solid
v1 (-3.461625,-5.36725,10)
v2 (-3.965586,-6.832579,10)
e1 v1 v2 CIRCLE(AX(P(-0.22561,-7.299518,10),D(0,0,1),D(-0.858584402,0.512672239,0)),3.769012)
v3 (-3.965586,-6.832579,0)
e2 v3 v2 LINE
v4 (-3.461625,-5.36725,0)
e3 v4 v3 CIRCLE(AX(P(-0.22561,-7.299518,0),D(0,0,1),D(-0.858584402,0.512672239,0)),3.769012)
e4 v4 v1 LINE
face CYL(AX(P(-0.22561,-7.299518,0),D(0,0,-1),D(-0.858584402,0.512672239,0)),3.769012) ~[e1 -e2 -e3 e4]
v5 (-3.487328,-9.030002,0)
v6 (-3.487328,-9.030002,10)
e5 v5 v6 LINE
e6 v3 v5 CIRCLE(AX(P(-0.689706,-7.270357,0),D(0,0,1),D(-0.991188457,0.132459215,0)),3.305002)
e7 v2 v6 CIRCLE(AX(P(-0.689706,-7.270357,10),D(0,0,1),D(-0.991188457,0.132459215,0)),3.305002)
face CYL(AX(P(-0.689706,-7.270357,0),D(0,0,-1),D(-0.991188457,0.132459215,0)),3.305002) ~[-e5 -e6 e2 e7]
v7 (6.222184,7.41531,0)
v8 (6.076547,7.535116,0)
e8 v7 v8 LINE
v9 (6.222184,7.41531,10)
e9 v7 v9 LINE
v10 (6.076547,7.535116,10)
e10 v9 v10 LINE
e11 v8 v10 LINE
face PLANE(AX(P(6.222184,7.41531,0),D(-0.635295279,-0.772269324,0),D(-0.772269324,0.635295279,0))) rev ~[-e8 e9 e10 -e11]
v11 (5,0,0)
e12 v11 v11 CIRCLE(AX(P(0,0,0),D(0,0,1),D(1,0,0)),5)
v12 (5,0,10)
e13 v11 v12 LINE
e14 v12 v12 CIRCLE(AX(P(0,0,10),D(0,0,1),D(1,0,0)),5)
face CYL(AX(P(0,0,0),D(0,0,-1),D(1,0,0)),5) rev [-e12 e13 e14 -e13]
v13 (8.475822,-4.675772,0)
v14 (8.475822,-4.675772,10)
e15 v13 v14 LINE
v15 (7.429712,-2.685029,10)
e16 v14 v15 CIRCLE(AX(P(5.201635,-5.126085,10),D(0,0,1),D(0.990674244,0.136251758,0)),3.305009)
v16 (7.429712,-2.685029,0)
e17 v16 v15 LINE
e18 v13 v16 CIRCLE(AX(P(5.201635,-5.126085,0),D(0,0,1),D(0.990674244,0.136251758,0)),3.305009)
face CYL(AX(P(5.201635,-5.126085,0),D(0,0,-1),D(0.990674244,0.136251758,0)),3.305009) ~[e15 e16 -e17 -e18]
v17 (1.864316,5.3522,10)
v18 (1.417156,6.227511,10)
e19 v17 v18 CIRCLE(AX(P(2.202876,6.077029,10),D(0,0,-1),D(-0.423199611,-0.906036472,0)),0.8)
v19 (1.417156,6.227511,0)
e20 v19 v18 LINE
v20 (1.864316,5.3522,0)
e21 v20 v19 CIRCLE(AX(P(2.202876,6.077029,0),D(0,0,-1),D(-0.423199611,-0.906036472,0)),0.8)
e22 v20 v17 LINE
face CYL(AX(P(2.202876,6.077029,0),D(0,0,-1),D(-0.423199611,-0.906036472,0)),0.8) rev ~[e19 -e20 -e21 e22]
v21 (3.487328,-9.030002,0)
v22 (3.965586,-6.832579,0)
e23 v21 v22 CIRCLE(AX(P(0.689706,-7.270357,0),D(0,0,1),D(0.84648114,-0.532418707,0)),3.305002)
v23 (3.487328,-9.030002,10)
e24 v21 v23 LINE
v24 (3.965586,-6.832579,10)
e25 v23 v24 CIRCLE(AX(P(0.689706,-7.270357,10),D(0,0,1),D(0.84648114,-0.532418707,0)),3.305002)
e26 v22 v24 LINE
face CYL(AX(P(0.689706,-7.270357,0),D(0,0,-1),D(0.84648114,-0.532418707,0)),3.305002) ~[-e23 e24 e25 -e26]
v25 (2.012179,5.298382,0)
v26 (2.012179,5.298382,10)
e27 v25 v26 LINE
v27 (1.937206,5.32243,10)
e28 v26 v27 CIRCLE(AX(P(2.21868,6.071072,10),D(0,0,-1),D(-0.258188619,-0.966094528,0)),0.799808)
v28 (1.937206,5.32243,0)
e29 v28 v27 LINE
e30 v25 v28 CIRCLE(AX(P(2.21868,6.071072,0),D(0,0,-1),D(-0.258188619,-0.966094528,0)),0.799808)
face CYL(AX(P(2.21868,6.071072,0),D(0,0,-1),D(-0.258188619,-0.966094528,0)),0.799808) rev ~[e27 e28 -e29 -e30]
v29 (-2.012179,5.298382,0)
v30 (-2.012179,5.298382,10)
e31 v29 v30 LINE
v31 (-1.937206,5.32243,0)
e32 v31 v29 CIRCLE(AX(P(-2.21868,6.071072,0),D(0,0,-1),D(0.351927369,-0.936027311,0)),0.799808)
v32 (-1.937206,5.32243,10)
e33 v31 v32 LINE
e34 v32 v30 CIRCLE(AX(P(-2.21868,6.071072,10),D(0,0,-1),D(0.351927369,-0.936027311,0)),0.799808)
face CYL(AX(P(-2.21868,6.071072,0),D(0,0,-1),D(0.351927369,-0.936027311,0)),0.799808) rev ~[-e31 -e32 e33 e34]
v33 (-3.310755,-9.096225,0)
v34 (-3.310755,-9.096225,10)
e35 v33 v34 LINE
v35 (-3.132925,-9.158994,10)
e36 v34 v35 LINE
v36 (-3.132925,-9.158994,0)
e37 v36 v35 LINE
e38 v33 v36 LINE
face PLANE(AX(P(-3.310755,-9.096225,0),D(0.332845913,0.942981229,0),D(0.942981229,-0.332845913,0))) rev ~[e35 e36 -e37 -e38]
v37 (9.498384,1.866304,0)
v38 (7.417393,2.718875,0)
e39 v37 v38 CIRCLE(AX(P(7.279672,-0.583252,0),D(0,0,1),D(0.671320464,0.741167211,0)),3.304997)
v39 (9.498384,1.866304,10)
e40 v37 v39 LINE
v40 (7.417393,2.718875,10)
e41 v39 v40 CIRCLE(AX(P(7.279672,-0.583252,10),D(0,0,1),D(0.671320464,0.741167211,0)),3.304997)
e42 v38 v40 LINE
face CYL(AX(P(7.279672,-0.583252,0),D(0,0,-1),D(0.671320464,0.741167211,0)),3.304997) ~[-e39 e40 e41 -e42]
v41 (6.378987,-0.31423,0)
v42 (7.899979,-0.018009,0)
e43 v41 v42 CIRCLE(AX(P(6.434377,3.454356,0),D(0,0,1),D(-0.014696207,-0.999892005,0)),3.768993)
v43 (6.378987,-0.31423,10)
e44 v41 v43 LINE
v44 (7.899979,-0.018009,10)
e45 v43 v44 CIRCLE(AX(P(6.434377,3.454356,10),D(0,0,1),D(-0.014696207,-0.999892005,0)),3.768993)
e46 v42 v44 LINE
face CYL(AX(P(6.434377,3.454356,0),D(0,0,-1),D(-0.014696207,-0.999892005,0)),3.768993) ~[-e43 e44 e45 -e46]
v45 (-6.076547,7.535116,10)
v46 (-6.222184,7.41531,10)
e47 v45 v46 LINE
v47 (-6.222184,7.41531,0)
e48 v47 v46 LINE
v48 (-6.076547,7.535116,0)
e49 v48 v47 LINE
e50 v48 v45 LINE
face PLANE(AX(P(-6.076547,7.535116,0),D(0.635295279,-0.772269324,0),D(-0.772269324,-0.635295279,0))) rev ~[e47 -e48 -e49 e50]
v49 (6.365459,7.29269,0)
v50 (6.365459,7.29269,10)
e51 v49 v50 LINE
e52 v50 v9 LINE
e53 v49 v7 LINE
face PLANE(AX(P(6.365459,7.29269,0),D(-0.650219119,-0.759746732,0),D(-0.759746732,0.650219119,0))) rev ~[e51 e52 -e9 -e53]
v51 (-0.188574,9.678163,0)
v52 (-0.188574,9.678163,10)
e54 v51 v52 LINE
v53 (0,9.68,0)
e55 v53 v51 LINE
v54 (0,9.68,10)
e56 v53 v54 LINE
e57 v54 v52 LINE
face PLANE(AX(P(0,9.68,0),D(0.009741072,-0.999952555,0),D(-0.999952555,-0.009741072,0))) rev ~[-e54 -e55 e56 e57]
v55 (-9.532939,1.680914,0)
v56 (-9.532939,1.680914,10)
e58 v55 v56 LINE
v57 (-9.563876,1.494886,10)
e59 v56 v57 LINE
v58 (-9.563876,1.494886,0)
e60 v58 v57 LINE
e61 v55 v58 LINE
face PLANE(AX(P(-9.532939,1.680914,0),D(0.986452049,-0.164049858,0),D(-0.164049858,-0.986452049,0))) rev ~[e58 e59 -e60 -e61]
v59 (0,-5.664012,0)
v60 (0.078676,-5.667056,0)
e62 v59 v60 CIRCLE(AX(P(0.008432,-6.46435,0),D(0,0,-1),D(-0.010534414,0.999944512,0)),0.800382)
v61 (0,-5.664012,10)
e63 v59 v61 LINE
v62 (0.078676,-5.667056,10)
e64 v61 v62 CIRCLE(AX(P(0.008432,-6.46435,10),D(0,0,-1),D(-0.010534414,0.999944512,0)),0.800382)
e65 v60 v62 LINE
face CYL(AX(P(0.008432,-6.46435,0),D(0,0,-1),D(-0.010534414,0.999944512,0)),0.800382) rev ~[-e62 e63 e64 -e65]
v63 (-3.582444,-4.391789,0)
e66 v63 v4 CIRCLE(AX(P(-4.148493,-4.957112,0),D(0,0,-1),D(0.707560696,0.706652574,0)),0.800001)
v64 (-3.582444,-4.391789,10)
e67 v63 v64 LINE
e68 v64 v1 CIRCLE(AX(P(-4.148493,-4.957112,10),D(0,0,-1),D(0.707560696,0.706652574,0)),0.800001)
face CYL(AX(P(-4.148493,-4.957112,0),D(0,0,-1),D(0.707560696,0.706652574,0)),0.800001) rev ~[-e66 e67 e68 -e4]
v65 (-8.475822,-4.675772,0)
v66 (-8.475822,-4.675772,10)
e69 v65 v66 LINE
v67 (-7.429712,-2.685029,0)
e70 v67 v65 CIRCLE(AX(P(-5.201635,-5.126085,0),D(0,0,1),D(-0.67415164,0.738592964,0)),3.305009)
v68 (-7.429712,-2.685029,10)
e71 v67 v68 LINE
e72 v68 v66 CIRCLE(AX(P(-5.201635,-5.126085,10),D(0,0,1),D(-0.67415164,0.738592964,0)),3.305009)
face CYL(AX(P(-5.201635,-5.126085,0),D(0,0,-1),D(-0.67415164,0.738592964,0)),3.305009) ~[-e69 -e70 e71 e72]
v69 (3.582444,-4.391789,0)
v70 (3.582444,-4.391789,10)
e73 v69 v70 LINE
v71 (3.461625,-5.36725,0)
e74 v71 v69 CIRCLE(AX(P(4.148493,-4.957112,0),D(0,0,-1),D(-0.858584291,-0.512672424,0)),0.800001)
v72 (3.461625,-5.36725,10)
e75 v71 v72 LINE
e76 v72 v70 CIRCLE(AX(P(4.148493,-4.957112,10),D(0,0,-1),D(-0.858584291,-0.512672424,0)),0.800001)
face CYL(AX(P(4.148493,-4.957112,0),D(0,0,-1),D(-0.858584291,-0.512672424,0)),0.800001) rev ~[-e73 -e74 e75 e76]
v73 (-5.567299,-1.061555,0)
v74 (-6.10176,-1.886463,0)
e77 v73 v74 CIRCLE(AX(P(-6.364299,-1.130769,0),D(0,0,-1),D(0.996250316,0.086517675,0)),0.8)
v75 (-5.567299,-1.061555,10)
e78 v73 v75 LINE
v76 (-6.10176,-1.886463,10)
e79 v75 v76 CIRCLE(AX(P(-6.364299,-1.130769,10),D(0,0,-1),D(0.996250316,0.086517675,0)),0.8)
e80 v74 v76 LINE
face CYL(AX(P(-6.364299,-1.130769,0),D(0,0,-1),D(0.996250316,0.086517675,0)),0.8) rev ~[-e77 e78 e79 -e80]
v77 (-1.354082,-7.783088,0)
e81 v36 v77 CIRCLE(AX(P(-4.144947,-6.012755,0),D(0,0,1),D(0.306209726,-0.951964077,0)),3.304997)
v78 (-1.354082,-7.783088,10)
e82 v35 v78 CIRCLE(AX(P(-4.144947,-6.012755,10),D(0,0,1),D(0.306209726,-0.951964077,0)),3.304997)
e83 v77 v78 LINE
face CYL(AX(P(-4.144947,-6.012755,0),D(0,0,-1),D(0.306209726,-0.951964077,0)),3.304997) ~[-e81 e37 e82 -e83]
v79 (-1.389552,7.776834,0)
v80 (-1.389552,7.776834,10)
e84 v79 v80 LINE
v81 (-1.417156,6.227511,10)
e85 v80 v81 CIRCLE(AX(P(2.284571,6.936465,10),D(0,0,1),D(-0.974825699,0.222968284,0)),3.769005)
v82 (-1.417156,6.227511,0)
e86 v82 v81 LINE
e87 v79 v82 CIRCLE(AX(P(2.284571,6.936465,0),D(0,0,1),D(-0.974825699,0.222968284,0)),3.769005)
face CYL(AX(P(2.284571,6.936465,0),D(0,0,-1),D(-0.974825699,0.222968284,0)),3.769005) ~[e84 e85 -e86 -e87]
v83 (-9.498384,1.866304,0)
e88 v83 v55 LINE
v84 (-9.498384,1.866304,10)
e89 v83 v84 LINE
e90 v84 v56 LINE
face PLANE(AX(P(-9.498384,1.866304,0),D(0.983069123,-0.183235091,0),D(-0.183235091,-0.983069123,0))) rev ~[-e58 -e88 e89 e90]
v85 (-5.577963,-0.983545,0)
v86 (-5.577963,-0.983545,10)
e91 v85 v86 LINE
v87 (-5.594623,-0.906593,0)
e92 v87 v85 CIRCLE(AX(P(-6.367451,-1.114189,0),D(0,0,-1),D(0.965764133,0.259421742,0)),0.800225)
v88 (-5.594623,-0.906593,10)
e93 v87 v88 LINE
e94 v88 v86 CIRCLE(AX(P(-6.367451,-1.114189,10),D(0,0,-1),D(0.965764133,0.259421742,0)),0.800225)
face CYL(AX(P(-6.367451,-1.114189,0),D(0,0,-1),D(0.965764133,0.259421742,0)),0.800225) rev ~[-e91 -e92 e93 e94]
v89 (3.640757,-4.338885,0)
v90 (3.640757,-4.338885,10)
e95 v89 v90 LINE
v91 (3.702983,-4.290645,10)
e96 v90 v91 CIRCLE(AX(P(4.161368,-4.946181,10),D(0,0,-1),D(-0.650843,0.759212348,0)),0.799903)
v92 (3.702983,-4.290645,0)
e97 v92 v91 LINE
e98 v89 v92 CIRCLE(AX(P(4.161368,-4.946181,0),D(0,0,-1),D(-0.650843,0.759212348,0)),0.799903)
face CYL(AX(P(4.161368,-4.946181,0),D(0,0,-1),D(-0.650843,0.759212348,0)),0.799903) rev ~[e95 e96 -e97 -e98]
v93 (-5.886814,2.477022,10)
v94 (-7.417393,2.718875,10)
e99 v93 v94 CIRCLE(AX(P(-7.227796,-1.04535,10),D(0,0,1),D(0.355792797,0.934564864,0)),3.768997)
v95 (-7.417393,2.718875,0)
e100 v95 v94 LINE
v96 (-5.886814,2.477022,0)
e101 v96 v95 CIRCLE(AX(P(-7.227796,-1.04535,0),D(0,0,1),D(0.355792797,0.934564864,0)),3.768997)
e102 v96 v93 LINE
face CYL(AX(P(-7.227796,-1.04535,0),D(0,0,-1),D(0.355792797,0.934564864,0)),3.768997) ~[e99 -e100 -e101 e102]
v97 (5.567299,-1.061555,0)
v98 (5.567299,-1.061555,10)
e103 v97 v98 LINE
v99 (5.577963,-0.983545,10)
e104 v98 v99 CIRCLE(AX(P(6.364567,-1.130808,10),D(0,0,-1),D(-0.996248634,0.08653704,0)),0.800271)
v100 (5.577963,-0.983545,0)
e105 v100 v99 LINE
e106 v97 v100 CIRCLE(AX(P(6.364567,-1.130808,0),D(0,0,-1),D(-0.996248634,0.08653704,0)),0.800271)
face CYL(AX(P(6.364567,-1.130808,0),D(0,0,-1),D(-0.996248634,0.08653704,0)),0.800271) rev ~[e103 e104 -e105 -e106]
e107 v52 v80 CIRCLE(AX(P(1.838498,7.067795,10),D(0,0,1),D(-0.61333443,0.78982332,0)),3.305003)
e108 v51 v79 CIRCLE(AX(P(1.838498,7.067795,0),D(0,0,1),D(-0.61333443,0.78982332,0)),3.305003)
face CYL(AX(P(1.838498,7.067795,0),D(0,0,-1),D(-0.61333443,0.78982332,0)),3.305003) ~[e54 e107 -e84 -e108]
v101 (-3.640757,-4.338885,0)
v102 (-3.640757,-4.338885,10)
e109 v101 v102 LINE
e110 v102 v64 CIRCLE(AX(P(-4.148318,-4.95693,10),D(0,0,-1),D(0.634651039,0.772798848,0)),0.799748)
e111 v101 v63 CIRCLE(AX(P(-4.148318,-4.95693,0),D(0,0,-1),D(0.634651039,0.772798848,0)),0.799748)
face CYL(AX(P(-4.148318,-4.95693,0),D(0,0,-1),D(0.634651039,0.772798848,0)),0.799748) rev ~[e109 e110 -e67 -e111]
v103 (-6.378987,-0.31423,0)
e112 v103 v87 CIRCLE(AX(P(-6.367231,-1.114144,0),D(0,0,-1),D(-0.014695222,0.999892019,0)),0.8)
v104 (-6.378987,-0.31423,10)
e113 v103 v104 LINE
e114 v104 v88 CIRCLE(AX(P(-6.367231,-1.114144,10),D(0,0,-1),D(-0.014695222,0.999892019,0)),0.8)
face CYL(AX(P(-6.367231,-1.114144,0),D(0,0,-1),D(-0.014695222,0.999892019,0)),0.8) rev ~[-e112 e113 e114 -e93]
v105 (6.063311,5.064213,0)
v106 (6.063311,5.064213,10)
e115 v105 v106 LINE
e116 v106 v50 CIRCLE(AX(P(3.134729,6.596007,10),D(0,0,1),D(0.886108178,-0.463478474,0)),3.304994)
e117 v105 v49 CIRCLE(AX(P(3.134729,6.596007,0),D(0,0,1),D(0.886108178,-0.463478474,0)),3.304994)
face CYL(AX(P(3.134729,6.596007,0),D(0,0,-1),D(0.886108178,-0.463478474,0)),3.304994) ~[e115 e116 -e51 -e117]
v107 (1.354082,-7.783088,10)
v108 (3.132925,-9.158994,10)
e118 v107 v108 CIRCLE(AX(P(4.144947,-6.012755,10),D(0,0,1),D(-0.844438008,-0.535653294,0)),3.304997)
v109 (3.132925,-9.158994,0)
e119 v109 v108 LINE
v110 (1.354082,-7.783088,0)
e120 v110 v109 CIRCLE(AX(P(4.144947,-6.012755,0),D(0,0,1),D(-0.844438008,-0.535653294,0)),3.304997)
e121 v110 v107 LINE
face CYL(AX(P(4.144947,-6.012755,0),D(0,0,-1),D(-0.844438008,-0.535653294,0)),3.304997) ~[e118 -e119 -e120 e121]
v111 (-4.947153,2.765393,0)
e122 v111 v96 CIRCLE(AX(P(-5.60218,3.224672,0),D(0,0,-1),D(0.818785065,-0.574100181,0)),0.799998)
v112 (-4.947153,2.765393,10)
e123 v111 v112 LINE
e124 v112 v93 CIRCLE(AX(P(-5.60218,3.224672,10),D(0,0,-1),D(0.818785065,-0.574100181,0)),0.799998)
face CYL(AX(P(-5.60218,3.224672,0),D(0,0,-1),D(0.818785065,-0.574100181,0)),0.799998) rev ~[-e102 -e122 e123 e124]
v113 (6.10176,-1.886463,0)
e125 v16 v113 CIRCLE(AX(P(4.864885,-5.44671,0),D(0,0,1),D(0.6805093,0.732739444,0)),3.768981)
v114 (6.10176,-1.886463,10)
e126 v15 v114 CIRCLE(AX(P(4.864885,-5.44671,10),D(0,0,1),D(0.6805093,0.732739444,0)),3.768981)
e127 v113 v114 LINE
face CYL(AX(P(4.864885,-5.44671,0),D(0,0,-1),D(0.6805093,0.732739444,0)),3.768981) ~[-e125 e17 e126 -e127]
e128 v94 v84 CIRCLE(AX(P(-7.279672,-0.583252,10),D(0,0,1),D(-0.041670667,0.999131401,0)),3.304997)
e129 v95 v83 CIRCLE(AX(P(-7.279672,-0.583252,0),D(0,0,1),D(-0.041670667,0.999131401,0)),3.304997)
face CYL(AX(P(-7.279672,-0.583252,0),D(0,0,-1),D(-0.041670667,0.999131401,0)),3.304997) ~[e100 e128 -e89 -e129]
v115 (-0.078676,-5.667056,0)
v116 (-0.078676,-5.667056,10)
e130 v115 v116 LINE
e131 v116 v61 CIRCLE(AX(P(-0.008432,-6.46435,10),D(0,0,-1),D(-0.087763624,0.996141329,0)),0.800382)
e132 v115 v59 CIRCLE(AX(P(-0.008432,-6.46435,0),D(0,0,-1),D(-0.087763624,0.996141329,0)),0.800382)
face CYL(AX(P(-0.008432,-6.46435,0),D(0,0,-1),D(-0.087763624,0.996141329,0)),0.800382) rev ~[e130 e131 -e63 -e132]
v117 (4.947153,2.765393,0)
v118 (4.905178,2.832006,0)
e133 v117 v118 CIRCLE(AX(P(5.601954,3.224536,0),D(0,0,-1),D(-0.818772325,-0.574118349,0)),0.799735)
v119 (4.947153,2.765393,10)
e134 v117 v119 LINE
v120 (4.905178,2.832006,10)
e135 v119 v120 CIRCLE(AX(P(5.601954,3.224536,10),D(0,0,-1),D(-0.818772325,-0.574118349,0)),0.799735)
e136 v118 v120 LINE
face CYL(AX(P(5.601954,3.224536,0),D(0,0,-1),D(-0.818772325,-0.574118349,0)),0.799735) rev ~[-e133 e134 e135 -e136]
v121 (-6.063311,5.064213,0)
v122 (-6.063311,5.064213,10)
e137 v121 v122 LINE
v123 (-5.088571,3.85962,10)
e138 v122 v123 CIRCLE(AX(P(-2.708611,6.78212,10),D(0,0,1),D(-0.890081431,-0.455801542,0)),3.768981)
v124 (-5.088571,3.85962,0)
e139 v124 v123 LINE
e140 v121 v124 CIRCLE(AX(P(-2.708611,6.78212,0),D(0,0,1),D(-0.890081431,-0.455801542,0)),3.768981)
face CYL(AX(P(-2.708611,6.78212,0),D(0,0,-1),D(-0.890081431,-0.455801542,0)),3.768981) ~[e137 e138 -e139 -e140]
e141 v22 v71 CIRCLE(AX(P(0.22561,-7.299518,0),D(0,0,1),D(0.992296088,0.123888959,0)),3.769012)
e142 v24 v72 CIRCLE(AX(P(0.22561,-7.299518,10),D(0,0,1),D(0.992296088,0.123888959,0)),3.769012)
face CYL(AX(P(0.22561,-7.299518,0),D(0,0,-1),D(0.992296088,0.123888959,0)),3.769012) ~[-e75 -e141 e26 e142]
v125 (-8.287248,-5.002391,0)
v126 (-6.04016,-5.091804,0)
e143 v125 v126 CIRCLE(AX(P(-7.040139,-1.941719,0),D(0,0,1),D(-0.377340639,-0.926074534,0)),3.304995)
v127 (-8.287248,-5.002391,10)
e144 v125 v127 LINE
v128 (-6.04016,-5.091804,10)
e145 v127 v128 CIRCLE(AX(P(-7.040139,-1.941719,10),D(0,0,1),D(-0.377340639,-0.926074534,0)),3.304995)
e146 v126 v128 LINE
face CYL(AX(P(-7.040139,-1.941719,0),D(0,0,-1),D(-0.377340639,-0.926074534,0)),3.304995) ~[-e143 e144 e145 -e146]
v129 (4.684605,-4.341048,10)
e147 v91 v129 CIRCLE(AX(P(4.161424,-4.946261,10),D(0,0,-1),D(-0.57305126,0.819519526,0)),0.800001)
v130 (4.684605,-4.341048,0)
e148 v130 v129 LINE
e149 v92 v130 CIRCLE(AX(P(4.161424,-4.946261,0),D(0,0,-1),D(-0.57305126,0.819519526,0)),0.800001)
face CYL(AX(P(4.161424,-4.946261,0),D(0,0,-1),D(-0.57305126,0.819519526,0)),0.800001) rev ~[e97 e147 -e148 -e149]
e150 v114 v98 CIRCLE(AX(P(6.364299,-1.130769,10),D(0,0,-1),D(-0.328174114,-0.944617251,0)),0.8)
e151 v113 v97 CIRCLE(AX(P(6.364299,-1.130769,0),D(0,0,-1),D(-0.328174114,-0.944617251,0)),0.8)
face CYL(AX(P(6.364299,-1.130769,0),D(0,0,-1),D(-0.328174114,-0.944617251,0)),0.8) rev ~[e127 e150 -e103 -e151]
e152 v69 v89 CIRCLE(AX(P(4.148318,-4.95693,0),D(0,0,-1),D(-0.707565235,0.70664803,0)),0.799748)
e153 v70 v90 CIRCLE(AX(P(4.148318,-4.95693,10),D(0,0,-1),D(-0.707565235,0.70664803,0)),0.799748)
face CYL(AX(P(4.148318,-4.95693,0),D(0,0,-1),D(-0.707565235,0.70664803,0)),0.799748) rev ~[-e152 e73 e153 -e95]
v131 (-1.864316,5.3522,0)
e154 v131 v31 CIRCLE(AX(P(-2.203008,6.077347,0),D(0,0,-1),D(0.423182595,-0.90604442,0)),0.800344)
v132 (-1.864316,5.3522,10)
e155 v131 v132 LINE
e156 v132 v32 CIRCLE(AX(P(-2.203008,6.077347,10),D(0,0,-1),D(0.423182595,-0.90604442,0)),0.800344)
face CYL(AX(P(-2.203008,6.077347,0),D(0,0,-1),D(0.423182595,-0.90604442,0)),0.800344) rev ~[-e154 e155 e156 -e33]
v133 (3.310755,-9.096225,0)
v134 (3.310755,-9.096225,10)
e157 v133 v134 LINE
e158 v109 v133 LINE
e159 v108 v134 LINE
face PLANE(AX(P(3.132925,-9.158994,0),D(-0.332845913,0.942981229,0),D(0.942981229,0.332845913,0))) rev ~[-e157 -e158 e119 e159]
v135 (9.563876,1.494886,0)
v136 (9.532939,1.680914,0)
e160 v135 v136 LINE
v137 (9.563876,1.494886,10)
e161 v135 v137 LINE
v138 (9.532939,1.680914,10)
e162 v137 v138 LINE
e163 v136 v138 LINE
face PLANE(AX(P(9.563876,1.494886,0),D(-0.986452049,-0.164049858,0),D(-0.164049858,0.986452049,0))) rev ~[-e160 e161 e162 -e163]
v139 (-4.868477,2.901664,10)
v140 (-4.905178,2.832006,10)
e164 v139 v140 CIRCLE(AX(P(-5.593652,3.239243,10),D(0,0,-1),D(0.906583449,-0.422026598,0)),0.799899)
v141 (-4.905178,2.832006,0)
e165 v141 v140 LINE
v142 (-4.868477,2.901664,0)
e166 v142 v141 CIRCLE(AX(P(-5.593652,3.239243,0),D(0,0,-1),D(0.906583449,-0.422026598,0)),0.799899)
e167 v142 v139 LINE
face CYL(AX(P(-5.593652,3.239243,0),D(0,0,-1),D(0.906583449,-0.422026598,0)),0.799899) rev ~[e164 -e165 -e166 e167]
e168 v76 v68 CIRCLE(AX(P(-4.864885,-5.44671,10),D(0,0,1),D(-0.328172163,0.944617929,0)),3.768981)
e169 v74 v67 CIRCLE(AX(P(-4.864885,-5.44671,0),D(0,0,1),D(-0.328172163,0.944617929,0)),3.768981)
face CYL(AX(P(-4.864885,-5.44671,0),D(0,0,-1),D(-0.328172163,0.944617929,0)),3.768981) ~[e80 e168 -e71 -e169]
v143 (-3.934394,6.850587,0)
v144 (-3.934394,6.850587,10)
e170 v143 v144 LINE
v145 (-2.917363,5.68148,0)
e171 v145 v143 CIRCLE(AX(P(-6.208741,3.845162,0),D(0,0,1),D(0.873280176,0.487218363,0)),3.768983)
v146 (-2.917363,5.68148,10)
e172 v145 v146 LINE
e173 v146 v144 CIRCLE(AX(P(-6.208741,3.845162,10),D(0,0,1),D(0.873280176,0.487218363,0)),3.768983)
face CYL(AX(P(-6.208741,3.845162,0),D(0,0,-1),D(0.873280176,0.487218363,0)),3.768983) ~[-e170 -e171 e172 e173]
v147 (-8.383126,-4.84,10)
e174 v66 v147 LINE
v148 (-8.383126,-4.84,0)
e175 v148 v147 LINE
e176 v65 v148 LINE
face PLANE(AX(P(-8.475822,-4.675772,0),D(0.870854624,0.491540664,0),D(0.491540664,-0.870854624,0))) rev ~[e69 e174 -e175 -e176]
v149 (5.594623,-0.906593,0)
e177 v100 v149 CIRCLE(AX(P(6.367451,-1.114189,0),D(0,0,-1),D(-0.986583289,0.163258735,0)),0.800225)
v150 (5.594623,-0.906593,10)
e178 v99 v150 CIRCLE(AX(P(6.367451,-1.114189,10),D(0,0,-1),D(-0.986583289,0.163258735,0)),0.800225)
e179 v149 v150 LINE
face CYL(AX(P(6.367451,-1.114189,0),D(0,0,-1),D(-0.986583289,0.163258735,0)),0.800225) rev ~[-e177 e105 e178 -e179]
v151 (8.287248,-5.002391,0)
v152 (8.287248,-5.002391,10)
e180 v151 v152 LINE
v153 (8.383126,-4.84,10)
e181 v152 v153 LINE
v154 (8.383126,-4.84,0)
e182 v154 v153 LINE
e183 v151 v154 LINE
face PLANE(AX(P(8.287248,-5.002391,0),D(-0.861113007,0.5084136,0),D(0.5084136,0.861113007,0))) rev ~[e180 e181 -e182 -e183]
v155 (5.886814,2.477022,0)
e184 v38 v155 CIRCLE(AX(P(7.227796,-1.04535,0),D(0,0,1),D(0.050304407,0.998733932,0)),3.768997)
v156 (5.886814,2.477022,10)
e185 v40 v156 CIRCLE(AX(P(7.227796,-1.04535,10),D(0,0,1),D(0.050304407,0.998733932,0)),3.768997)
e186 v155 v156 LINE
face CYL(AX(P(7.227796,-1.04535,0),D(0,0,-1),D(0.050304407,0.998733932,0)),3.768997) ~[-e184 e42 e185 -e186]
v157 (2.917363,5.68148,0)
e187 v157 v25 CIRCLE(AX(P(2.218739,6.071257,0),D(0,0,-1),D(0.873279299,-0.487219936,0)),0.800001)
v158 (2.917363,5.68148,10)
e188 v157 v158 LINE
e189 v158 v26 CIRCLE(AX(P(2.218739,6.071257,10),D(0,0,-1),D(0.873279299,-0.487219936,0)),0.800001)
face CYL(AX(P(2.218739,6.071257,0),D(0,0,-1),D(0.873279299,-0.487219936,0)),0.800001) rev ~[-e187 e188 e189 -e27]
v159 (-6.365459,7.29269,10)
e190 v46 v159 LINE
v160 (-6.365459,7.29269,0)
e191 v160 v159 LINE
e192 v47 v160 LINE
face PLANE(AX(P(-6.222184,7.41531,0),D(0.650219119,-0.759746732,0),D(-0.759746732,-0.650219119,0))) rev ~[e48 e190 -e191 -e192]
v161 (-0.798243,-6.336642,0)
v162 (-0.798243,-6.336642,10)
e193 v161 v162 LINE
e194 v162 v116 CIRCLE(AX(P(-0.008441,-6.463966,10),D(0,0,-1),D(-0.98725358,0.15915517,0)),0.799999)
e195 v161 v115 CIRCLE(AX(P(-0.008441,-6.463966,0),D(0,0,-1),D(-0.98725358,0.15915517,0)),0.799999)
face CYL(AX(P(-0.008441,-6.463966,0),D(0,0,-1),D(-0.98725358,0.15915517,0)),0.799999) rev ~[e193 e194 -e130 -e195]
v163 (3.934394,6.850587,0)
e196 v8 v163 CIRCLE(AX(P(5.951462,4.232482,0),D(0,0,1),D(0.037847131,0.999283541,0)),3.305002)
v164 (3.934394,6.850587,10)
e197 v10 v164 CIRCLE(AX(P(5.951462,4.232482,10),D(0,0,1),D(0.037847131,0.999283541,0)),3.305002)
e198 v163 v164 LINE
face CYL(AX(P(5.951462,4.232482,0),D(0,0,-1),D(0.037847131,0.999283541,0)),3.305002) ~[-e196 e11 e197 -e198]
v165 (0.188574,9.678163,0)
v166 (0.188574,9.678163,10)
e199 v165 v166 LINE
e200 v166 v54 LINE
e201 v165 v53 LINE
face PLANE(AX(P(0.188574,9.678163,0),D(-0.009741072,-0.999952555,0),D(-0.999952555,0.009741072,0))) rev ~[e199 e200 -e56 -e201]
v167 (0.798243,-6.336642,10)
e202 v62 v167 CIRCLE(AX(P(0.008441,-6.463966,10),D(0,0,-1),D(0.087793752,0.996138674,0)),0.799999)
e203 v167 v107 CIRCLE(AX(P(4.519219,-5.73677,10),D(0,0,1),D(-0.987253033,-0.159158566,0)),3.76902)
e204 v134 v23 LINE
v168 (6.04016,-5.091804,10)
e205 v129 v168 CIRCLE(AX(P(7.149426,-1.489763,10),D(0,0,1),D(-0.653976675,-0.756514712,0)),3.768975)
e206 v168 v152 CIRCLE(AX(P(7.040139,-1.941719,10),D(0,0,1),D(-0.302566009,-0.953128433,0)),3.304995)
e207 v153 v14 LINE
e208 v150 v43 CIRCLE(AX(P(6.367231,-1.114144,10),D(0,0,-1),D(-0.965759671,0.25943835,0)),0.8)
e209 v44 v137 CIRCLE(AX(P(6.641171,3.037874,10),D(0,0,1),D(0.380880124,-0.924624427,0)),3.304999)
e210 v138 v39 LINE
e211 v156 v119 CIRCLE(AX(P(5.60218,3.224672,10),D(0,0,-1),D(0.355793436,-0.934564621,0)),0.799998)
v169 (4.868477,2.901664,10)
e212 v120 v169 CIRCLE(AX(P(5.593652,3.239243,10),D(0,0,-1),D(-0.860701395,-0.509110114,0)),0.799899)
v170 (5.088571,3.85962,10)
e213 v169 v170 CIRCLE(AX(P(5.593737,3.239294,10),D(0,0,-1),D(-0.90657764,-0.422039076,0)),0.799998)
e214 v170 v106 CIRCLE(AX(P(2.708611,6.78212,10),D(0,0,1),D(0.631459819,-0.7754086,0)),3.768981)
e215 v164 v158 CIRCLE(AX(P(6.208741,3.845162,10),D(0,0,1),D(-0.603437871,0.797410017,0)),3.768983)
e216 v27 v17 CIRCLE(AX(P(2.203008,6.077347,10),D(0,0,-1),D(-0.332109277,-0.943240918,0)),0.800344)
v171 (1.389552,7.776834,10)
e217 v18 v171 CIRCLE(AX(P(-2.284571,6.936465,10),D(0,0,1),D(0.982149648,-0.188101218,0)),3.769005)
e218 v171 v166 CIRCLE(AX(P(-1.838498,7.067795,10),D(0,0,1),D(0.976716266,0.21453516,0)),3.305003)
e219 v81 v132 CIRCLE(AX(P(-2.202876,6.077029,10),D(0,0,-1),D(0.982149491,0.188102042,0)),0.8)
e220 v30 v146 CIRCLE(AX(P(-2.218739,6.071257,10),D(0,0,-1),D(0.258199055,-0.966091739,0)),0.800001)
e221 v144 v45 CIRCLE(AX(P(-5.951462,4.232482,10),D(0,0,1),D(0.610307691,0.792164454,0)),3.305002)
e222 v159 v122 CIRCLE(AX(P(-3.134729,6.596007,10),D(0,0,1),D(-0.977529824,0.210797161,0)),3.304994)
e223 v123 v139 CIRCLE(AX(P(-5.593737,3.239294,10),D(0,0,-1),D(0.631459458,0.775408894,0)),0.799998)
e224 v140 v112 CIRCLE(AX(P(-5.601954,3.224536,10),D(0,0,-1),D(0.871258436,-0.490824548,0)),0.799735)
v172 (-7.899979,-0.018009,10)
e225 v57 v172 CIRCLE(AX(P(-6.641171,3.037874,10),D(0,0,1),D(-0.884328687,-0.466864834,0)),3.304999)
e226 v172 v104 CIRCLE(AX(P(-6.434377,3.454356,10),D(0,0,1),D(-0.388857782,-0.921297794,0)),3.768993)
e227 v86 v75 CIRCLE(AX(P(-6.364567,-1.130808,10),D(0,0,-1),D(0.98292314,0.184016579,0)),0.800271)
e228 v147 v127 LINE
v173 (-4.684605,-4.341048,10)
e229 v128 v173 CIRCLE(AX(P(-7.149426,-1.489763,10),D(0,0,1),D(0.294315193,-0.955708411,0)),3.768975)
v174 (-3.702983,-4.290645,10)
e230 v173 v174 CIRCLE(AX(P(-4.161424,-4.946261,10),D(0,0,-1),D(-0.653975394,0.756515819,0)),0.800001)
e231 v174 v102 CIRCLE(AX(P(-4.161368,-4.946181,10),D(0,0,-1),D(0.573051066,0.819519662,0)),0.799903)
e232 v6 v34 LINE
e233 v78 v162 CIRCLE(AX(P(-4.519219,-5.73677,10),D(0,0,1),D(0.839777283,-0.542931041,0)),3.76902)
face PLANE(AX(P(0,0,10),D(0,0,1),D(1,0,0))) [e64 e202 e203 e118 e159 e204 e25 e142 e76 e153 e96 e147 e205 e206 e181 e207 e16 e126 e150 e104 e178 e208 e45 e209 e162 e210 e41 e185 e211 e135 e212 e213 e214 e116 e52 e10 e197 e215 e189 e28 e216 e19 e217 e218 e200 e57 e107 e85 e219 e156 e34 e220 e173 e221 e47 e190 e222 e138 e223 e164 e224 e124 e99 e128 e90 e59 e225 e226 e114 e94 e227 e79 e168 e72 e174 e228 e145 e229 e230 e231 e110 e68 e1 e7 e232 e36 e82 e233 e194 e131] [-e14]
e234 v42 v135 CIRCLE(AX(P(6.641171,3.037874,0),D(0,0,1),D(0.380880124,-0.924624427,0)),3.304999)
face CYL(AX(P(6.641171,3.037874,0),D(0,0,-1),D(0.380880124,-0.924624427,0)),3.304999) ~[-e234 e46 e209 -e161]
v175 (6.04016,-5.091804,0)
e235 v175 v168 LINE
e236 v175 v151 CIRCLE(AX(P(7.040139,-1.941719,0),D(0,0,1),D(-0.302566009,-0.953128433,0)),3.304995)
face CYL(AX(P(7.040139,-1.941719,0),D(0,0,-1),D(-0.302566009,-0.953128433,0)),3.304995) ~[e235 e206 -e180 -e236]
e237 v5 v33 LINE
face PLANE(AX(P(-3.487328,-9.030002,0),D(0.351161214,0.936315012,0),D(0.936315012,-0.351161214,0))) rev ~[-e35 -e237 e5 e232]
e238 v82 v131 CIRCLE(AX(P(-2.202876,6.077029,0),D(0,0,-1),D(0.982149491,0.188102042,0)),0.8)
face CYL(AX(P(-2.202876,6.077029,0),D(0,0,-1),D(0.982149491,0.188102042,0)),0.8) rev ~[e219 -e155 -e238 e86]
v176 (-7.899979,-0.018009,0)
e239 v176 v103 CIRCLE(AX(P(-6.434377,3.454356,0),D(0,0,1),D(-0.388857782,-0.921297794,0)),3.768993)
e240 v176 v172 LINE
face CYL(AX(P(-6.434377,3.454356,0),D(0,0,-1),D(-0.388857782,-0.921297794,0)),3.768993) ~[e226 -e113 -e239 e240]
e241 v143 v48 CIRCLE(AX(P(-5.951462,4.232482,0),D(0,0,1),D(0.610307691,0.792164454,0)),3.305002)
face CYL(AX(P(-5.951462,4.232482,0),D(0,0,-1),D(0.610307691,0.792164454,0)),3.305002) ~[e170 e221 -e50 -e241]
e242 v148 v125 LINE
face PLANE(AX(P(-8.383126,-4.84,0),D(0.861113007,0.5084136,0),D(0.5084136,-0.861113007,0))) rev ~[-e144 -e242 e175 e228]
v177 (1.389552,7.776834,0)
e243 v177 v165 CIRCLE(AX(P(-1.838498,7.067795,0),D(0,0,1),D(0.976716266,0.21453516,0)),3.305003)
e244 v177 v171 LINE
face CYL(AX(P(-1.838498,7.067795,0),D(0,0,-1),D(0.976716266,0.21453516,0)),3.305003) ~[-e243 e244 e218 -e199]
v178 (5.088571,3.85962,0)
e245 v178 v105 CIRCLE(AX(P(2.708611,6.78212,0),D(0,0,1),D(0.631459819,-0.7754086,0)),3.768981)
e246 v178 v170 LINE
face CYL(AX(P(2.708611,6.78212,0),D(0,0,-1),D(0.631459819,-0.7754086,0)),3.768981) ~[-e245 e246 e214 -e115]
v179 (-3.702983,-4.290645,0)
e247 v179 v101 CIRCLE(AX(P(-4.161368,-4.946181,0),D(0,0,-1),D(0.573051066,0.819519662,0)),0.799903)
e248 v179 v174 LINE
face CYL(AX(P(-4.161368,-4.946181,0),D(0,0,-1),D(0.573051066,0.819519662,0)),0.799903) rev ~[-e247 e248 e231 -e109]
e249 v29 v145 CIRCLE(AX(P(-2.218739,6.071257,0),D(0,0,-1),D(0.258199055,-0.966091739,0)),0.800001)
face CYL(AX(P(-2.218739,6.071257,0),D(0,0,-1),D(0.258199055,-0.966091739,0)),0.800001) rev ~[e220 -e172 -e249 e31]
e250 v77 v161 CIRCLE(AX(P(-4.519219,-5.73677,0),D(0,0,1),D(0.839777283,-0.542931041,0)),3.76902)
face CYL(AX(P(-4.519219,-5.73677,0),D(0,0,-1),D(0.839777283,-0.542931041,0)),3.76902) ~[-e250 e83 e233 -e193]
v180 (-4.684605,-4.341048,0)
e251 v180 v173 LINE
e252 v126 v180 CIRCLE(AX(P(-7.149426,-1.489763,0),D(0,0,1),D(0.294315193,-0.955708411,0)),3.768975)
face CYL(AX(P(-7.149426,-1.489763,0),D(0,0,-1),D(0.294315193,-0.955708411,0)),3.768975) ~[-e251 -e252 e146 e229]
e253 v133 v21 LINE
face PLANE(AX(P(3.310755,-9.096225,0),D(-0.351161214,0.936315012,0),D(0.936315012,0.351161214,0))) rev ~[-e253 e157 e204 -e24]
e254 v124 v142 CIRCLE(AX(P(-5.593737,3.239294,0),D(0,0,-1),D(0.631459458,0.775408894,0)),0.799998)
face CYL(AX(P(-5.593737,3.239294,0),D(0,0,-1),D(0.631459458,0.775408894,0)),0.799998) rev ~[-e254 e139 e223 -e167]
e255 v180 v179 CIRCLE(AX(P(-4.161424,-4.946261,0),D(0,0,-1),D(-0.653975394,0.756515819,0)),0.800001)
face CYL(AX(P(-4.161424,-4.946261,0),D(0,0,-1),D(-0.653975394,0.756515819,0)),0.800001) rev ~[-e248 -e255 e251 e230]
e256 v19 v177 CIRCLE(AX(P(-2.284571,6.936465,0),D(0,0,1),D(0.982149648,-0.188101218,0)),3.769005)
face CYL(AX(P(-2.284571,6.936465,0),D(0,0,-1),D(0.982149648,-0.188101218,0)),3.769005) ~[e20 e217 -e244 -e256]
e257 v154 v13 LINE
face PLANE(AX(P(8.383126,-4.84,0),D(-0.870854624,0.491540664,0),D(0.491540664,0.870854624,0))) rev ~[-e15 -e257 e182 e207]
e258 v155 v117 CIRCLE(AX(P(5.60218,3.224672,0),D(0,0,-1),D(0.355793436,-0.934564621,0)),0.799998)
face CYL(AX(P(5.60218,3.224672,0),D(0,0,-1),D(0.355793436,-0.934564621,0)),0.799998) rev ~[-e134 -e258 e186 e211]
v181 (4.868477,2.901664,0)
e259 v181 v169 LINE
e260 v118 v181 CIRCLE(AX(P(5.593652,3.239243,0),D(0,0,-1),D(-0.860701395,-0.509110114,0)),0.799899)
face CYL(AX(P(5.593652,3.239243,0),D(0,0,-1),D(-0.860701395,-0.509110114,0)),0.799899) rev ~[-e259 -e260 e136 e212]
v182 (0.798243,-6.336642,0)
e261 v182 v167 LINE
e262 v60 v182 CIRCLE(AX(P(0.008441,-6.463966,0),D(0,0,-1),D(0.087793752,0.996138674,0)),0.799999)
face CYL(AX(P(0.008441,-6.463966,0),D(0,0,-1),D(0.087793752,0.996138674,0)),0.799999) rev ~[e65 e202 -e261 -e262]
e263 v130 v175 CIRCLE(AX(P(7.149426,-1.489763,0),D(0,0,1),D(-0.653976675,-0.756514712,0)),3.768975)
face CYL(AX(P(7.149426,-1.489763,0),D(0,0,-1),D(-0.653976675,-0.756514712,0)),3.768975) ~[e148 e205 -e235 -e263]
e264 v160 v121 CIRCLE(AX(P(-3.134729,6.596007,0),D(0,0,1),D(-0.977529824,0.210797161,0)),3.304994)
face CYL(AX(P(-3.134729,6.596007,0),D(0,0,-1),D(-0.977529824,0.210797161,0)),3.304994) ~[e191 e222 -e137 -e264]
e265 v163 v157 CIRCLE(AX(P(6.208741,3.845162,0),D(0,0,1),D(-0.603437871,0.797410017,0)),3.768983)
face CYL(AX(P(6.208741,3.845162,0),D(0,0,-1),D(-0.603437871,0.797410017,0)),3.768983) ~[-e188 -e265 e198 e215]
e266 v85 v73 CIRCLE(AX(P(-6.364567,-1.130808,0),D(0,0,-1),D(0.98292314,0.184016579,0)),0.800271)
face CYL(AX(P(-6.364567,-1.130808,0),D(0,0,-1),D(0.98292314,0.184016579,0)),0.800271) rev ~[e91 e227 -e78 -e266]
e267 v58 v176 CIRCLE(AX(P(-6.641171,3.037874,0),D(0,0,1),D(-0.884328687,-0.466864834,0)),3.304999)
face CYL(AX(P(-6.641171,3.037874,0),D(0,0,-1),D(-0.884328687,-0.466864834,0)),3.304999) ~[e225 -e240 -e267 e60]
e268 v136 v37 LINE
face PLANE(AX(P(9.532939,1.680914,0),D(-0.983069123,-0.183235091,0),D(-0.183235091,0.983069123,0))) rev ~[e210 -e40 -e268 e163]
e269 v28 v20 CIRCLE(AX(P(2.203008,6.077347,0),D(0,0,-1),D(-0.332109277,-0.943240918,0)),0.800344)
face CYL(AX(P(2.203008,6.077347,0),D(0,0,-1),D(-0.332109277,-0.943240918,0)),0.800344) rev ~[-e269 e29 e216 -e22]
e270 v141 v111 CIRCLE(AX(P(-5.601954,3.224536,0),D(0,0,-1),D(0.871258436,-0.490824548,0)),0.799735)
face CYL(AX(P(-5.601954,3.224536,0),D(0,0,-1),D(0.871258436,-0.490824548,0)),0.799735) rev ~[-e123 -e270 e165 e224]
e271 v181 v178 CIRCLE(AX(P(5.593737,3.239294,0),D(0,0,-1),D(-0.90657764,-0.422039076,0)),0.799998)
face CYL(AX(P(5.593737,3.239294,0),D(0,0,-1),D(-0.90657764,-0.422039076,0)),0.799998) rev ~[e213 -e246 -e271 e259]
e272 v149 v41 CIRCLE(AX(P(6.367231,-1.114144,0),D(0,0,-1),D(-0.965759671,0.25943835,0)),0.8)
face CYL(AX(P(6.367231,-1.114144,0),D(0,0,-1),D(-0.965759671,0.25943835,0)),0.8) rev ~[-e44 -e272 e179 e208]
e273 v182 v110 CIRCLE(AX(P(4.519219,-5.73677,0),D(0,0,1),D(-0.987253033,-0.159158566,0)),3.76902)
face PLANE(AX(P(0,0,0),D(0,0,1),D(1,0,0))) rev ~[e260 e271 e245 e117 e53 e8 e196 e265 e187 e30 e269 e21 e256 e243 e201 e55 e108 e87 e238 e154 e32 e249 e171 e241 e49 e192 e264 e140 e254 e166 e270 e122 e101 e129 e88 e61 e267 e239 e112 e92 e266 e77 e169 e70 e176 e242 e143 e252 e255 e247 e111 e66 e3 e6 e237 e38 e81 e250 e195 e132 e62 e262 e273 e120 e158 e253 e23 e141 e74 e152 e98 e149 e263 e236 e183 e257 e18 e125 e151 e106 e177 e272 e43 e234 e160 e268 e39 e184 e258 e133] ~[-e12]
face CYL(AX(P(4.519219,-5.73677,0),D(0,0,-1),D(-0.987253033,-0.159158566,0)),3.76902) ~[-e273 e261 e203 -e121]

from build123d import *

# Parameters (mm, degrees)
F0_R     = 5
F1_DEPTH = 10


with BuildPart() as f1:
    # F0 (on Top) → F1 (new body)
    with BuildSketch(Plane.XY):
        with BuildLine():
            ThreePointArc((1.864316, 5.3522), (1.490455, 5.713083), (1.417156, 6.227511))
            ThreePointArc((1.417156, 6.227511), (1.483836, 7.003606), (1.389552, 7.776834))
            ThreePointArc((1.389552, 7.776834), (0.955753, 8.832789), (0.188574, 9.678163))
            Line((0.188574, 9.678163), (0, 9.68))
            Line((0, 9.68), (-0.188574, 9.678163))
            ThreePointArc((-0.188574, 9.678163), (-0.955753, 8.832789), (-1.389552, 7.776834))
            ThreePointArc((-1.389552, 7.776834), (-1.483836, 7.003606), (-1.417156, 6.227511))
            ThreePointArc((-1.417156, 6.227511), (-1.490455, 5.713083), (-1.864316, 5.3522))
            ThreePointArc((-1.864316, 5.3522), (-1.900395, 5.336418), (-1.937206, 5.32243))
            ThreePointArc((-1.937206, 5.32243), (-1.974396, 5.309483), (-2.012179, 5.298382))
            ThreePointArc((-2.012179, 5.298382), (-2.530544, 5.334521), (-2.917363, 5.68148))
            ThreePointArc((-2.917363, 5.68148), (-3.365147, 6.318865), (-3.934394, 6.850587))
            ThreePointArc((-3.934394, 6.850587), (-4.945458, 7.380655), (-6.076547, 7.535116))
            Line((-6.076547, 7.535116), (-6.222184, 7.41531))
            Line((-6.222184, 7.41531), (-6.365459, 7.29269))
            ThreePointArc((-6.365459, 7.29269), (-6.409757, 6.151962), (-6.063311, 5.064213))
            ThreePointArc((-6.063311, 5.064213), (-5.638516, 4.411282), (-5.088571, 3.85962))
            ThreePointArc((-5.088571, 3.85962), (-4.814053, 3.418429), (-4.868477, 2.901664))
            ThreePointArc((-4.868477, 2.901664), (-4.88597, 2.866383), (-4.905178, 2.832006))
            ThreePointArc((-4.905178, 2.832006), (-4.925345, 2.798183), (-4.947153, 2.765393))
            ThreePointArc((-4.947153, 2.765393), (-5.367473, 2.459878), (-5.886814, 2.477022))
            ThreePointArc((-5.886814, 2.477022), (-6.63954, 2.677457), (-7.417393, 2.718875))
            ThreePointArc((-7.417393, 2.718875), (-8.532634, 2.475031), (-9.498384, 1.866304))
            Line((-9.498384, 1.866304), (-9.532939, 1.680914))
            Line((-9.532939, 1.680914), (-9.563876, 1.494886))
            ThreePointArc((-9.563876, 1.494886), (-8.864564, 0.592564), (-7.899979, -0.018009))
            ThreePointArc((-7.899979, -0.018009), (-7.154871, -0.24513), (-6.378987, -0.31423))
            ThreePointArc((-6.378987, -0.31423), (-5.885103, -0.475745), (-5.594623, -0.906593))
            ThreePointArc((-5.594623, -0.906593), (-5.585346, -0.944864), (-5.577963, -0.983545))
            ThreePointArc((-5.577963, -0.983545), (-5.571671, -1.022419), (-5.567299, -1.061555))
            ThreePointArc((-5.567299, -1.061555), (-5.692902, -1.56577), (-6.10176, -1.886463))
            ThreePointArc((-6.10176, -1.886463), (-6.807219, -2.216763), (-7.429712, -2.685029))
            ThreePointArc((-7.429712, -2.685029), (-8.127296, -3.588688), (-8.475822, -4.675772))
            Line((-8.475822, -4.675772), (-8.383126, -4.84))
            Line((-8.383126, -4.84), (-8.287248, -5.002391))
            ThreePointArc((-8.287248, -5.002391), (-7.171543, -5.244101), (-6.04016, -5.091804))
            ThreePointArc((-6.04016, -5.091804), (-5.323383, -4.786843), (-4.684605, -4.341048))
            ThreePointArc((-4.684605, -4.341048), (-4.202447, -4.147313), (-3.702983, -4.290645))
            ThreePointArc((-3.702983, -4.290645), (-3.671276, -4.313999), (-3.640757, -4.338885))
            ThreePointArc((-3.640757, -4.338885), (-3.610949, -4.364619), (-3.582444, -4.391789))
            ThreePointArc((-3.582444, -4.391789), (-3.354559, -4.858776), (-3.461625, -5.36725))
            ThreePointArc((-3.461625, -5.36725), (-3.789724, -6.073735), (-3.965586, -6.832579))
            ThreePointArc((-3.965586, -6.832579), (-3.919106, -7.973219), (-3.487328, -9.030002))
            Line((-3.487328, -9.030002), (-3.310755, -9.096225))
            Line((-3.310755, -9.096225), (-3.132925, -9.158994))
            ThreePointArc((-3.132925, -9.158994), (-2.122877, -8.626993), (-1.354082, -7.783088))
            ThreePointArc((-1.354082, -7.783088), (-1.001025, -7.088739), (-0.798243, -6.336642))
            ThreePointArc((-0.798243, -6.336642), (-0.55342, -5.878307), (-0.078676, -5.667056))
            ThreePointArc((-0.078676, -5.667056), (-0.039376, -5.664566), (0, -5.664012))
            ThreePointArc((0, -5.664012), (0.039376, -5.664566), (0.078676, -5.667056))
            ThreePointArc((0.078676, -5.667056), (0.55342, -5.878307), (0.798243, -6.336642))
            ThreePointArc((0.798243, -6.336642), (1.001025, -7.088739), (1.354082, -7.783088))
            ThreePointArc((1.354082, -7.783088), (2.122877, -8.626993), (3.132925, -9.158994))
            Line((3.132925, -9.158994), (3.310755, -9.096225))
            Line((3.310755, -9.096225), (3.487328, -9.030002))
            ThreePointArc((3.487328, -9.030002), (3.919106, -7.973219), (3.965586, -6.832579))
            ThreePointArc((3.965586, -6.832579), (3.789724, -6.073735), (3.461625, -5.36725))
            ThreePointArc((3.461625, -5.36725), (3.354559, -4.858776), (3.582444, -4.391789))
            ThreePointArc((3.582444, -4.391789), (3.610949, -4.364619), (3.640757, -4.338885))
            ThreePointArc((3.640757, -4.338885), (3.671276, -4.313999), (3.702983, -4.290645))
            ThreePointArc((3.702983, -4.290645), (4.202447, -4.147313), (4.684605, -4.341048))
            ThreePointArc((4.684605, -4.341048), (5.323383, -4.786843), (6.04016, -5.091804))
            ThreePointArc((6.04016, -5.091804), (7.171543, -5.244101), (8.287248, -5.002391))
            Line((8.287248, -5.002391), (8.383126, -4.84))
            Line((8.383126, -4.84), (8.475822, -4.675772))
            ThreePointArc((8.475822, -4.675772), (8.127296, -3.588688), (7.429712, -2.685029))
            ThreePointArc((7.429712, -2.685029), (6.807219, -2.216763), (6.10176, -1.886463))
            ThreePointArc((6.10176, -1.886463), (5.692902, -1.56577), (5.567299, -1.061555))
            ThreePointArc((5.567299, -1.061555), (5.571671, -1.022419), (5.577963, -0.983545))
            ThreePointArc((5.577963, -0.983545), (5.585346, -0.944864), (5.594623, -0.906593))
            ThreePointArc((5.594623, -0.906593), (5.885103, -0.475745), (6.378987, -0.31423))
            ThreePointArc((6.378987, -0.31423), (7.154871, -0.24513), (7.899979, -0.018009))
            ThreePointArc((7.899979, -0.018009), (8.864564, 0.592564), (9.563876, 1.494886))
            Line((9.563876, 1.494886), (9.532939, 1.680914))
            Line((9.532939, 1.680914), (9.498384, 1.866304))
            ThreePointArc((9.498384, 1.866304), (8.532634, 2.475031), (7.417393, 2.718875))
            ThreePointArc((7.417393, 2.718875), (6.63954, 2.677457), (5.886814, 2.477022))
            ThreePointArc((5.886814, 2.477022), (5.367473, 2.459878), (4.947153, 2.765393))
            ThreePointArc((4.947153, 2.765393), (4.925345, 2.798183), (4.905178, 2.832006))
            ThreePointArc((4.905178, 2.832006), (4.88597, 2.866383), (4.868477, 2.901664))
            ThreePointArc((4.868477, 2.901664), (4.814053, 3.418429), (5.088571, 3.85962))
            ThreePointArc((5.088571, 3.85962), (5.638516, 4.411282), (6.063311, 5.064213))
            ThreePointArc((6.063311, 5.064213), (6.409757, 6.151962), (6.365459, 7.29269))
            Line((6.365459, 7.29269), (6.222184, 7.41531))
            Line((6.222184, 7.41531), (6.076547, 7.535116))
            ThreePointArc((6.076547, 7.535116), (4.945458, 7.380655), (3.934394, 6.850587))
            ThreePointArc((3.934394, 6.850587), (3.365147, 6.318865), (2.917363, 5.68148))
            ThreePointArc((2.917363, 5.68148), (2.530544, 5.334521), (2.012179, 5.298382))
            ThreePointArc((2.012179, 5.298382), (1.974396, 5.309483), (1.937206, 5.32243))
            ThreePointArc((1.937206, 5.32243), (1.900395, 5.336418), (1.864316, 5.3522))
        make_face()
        Circle(F0_R, mode=Mode.SUBTRACT)
    extrude(amount=F1_DEPTH)


solid = f1.part
